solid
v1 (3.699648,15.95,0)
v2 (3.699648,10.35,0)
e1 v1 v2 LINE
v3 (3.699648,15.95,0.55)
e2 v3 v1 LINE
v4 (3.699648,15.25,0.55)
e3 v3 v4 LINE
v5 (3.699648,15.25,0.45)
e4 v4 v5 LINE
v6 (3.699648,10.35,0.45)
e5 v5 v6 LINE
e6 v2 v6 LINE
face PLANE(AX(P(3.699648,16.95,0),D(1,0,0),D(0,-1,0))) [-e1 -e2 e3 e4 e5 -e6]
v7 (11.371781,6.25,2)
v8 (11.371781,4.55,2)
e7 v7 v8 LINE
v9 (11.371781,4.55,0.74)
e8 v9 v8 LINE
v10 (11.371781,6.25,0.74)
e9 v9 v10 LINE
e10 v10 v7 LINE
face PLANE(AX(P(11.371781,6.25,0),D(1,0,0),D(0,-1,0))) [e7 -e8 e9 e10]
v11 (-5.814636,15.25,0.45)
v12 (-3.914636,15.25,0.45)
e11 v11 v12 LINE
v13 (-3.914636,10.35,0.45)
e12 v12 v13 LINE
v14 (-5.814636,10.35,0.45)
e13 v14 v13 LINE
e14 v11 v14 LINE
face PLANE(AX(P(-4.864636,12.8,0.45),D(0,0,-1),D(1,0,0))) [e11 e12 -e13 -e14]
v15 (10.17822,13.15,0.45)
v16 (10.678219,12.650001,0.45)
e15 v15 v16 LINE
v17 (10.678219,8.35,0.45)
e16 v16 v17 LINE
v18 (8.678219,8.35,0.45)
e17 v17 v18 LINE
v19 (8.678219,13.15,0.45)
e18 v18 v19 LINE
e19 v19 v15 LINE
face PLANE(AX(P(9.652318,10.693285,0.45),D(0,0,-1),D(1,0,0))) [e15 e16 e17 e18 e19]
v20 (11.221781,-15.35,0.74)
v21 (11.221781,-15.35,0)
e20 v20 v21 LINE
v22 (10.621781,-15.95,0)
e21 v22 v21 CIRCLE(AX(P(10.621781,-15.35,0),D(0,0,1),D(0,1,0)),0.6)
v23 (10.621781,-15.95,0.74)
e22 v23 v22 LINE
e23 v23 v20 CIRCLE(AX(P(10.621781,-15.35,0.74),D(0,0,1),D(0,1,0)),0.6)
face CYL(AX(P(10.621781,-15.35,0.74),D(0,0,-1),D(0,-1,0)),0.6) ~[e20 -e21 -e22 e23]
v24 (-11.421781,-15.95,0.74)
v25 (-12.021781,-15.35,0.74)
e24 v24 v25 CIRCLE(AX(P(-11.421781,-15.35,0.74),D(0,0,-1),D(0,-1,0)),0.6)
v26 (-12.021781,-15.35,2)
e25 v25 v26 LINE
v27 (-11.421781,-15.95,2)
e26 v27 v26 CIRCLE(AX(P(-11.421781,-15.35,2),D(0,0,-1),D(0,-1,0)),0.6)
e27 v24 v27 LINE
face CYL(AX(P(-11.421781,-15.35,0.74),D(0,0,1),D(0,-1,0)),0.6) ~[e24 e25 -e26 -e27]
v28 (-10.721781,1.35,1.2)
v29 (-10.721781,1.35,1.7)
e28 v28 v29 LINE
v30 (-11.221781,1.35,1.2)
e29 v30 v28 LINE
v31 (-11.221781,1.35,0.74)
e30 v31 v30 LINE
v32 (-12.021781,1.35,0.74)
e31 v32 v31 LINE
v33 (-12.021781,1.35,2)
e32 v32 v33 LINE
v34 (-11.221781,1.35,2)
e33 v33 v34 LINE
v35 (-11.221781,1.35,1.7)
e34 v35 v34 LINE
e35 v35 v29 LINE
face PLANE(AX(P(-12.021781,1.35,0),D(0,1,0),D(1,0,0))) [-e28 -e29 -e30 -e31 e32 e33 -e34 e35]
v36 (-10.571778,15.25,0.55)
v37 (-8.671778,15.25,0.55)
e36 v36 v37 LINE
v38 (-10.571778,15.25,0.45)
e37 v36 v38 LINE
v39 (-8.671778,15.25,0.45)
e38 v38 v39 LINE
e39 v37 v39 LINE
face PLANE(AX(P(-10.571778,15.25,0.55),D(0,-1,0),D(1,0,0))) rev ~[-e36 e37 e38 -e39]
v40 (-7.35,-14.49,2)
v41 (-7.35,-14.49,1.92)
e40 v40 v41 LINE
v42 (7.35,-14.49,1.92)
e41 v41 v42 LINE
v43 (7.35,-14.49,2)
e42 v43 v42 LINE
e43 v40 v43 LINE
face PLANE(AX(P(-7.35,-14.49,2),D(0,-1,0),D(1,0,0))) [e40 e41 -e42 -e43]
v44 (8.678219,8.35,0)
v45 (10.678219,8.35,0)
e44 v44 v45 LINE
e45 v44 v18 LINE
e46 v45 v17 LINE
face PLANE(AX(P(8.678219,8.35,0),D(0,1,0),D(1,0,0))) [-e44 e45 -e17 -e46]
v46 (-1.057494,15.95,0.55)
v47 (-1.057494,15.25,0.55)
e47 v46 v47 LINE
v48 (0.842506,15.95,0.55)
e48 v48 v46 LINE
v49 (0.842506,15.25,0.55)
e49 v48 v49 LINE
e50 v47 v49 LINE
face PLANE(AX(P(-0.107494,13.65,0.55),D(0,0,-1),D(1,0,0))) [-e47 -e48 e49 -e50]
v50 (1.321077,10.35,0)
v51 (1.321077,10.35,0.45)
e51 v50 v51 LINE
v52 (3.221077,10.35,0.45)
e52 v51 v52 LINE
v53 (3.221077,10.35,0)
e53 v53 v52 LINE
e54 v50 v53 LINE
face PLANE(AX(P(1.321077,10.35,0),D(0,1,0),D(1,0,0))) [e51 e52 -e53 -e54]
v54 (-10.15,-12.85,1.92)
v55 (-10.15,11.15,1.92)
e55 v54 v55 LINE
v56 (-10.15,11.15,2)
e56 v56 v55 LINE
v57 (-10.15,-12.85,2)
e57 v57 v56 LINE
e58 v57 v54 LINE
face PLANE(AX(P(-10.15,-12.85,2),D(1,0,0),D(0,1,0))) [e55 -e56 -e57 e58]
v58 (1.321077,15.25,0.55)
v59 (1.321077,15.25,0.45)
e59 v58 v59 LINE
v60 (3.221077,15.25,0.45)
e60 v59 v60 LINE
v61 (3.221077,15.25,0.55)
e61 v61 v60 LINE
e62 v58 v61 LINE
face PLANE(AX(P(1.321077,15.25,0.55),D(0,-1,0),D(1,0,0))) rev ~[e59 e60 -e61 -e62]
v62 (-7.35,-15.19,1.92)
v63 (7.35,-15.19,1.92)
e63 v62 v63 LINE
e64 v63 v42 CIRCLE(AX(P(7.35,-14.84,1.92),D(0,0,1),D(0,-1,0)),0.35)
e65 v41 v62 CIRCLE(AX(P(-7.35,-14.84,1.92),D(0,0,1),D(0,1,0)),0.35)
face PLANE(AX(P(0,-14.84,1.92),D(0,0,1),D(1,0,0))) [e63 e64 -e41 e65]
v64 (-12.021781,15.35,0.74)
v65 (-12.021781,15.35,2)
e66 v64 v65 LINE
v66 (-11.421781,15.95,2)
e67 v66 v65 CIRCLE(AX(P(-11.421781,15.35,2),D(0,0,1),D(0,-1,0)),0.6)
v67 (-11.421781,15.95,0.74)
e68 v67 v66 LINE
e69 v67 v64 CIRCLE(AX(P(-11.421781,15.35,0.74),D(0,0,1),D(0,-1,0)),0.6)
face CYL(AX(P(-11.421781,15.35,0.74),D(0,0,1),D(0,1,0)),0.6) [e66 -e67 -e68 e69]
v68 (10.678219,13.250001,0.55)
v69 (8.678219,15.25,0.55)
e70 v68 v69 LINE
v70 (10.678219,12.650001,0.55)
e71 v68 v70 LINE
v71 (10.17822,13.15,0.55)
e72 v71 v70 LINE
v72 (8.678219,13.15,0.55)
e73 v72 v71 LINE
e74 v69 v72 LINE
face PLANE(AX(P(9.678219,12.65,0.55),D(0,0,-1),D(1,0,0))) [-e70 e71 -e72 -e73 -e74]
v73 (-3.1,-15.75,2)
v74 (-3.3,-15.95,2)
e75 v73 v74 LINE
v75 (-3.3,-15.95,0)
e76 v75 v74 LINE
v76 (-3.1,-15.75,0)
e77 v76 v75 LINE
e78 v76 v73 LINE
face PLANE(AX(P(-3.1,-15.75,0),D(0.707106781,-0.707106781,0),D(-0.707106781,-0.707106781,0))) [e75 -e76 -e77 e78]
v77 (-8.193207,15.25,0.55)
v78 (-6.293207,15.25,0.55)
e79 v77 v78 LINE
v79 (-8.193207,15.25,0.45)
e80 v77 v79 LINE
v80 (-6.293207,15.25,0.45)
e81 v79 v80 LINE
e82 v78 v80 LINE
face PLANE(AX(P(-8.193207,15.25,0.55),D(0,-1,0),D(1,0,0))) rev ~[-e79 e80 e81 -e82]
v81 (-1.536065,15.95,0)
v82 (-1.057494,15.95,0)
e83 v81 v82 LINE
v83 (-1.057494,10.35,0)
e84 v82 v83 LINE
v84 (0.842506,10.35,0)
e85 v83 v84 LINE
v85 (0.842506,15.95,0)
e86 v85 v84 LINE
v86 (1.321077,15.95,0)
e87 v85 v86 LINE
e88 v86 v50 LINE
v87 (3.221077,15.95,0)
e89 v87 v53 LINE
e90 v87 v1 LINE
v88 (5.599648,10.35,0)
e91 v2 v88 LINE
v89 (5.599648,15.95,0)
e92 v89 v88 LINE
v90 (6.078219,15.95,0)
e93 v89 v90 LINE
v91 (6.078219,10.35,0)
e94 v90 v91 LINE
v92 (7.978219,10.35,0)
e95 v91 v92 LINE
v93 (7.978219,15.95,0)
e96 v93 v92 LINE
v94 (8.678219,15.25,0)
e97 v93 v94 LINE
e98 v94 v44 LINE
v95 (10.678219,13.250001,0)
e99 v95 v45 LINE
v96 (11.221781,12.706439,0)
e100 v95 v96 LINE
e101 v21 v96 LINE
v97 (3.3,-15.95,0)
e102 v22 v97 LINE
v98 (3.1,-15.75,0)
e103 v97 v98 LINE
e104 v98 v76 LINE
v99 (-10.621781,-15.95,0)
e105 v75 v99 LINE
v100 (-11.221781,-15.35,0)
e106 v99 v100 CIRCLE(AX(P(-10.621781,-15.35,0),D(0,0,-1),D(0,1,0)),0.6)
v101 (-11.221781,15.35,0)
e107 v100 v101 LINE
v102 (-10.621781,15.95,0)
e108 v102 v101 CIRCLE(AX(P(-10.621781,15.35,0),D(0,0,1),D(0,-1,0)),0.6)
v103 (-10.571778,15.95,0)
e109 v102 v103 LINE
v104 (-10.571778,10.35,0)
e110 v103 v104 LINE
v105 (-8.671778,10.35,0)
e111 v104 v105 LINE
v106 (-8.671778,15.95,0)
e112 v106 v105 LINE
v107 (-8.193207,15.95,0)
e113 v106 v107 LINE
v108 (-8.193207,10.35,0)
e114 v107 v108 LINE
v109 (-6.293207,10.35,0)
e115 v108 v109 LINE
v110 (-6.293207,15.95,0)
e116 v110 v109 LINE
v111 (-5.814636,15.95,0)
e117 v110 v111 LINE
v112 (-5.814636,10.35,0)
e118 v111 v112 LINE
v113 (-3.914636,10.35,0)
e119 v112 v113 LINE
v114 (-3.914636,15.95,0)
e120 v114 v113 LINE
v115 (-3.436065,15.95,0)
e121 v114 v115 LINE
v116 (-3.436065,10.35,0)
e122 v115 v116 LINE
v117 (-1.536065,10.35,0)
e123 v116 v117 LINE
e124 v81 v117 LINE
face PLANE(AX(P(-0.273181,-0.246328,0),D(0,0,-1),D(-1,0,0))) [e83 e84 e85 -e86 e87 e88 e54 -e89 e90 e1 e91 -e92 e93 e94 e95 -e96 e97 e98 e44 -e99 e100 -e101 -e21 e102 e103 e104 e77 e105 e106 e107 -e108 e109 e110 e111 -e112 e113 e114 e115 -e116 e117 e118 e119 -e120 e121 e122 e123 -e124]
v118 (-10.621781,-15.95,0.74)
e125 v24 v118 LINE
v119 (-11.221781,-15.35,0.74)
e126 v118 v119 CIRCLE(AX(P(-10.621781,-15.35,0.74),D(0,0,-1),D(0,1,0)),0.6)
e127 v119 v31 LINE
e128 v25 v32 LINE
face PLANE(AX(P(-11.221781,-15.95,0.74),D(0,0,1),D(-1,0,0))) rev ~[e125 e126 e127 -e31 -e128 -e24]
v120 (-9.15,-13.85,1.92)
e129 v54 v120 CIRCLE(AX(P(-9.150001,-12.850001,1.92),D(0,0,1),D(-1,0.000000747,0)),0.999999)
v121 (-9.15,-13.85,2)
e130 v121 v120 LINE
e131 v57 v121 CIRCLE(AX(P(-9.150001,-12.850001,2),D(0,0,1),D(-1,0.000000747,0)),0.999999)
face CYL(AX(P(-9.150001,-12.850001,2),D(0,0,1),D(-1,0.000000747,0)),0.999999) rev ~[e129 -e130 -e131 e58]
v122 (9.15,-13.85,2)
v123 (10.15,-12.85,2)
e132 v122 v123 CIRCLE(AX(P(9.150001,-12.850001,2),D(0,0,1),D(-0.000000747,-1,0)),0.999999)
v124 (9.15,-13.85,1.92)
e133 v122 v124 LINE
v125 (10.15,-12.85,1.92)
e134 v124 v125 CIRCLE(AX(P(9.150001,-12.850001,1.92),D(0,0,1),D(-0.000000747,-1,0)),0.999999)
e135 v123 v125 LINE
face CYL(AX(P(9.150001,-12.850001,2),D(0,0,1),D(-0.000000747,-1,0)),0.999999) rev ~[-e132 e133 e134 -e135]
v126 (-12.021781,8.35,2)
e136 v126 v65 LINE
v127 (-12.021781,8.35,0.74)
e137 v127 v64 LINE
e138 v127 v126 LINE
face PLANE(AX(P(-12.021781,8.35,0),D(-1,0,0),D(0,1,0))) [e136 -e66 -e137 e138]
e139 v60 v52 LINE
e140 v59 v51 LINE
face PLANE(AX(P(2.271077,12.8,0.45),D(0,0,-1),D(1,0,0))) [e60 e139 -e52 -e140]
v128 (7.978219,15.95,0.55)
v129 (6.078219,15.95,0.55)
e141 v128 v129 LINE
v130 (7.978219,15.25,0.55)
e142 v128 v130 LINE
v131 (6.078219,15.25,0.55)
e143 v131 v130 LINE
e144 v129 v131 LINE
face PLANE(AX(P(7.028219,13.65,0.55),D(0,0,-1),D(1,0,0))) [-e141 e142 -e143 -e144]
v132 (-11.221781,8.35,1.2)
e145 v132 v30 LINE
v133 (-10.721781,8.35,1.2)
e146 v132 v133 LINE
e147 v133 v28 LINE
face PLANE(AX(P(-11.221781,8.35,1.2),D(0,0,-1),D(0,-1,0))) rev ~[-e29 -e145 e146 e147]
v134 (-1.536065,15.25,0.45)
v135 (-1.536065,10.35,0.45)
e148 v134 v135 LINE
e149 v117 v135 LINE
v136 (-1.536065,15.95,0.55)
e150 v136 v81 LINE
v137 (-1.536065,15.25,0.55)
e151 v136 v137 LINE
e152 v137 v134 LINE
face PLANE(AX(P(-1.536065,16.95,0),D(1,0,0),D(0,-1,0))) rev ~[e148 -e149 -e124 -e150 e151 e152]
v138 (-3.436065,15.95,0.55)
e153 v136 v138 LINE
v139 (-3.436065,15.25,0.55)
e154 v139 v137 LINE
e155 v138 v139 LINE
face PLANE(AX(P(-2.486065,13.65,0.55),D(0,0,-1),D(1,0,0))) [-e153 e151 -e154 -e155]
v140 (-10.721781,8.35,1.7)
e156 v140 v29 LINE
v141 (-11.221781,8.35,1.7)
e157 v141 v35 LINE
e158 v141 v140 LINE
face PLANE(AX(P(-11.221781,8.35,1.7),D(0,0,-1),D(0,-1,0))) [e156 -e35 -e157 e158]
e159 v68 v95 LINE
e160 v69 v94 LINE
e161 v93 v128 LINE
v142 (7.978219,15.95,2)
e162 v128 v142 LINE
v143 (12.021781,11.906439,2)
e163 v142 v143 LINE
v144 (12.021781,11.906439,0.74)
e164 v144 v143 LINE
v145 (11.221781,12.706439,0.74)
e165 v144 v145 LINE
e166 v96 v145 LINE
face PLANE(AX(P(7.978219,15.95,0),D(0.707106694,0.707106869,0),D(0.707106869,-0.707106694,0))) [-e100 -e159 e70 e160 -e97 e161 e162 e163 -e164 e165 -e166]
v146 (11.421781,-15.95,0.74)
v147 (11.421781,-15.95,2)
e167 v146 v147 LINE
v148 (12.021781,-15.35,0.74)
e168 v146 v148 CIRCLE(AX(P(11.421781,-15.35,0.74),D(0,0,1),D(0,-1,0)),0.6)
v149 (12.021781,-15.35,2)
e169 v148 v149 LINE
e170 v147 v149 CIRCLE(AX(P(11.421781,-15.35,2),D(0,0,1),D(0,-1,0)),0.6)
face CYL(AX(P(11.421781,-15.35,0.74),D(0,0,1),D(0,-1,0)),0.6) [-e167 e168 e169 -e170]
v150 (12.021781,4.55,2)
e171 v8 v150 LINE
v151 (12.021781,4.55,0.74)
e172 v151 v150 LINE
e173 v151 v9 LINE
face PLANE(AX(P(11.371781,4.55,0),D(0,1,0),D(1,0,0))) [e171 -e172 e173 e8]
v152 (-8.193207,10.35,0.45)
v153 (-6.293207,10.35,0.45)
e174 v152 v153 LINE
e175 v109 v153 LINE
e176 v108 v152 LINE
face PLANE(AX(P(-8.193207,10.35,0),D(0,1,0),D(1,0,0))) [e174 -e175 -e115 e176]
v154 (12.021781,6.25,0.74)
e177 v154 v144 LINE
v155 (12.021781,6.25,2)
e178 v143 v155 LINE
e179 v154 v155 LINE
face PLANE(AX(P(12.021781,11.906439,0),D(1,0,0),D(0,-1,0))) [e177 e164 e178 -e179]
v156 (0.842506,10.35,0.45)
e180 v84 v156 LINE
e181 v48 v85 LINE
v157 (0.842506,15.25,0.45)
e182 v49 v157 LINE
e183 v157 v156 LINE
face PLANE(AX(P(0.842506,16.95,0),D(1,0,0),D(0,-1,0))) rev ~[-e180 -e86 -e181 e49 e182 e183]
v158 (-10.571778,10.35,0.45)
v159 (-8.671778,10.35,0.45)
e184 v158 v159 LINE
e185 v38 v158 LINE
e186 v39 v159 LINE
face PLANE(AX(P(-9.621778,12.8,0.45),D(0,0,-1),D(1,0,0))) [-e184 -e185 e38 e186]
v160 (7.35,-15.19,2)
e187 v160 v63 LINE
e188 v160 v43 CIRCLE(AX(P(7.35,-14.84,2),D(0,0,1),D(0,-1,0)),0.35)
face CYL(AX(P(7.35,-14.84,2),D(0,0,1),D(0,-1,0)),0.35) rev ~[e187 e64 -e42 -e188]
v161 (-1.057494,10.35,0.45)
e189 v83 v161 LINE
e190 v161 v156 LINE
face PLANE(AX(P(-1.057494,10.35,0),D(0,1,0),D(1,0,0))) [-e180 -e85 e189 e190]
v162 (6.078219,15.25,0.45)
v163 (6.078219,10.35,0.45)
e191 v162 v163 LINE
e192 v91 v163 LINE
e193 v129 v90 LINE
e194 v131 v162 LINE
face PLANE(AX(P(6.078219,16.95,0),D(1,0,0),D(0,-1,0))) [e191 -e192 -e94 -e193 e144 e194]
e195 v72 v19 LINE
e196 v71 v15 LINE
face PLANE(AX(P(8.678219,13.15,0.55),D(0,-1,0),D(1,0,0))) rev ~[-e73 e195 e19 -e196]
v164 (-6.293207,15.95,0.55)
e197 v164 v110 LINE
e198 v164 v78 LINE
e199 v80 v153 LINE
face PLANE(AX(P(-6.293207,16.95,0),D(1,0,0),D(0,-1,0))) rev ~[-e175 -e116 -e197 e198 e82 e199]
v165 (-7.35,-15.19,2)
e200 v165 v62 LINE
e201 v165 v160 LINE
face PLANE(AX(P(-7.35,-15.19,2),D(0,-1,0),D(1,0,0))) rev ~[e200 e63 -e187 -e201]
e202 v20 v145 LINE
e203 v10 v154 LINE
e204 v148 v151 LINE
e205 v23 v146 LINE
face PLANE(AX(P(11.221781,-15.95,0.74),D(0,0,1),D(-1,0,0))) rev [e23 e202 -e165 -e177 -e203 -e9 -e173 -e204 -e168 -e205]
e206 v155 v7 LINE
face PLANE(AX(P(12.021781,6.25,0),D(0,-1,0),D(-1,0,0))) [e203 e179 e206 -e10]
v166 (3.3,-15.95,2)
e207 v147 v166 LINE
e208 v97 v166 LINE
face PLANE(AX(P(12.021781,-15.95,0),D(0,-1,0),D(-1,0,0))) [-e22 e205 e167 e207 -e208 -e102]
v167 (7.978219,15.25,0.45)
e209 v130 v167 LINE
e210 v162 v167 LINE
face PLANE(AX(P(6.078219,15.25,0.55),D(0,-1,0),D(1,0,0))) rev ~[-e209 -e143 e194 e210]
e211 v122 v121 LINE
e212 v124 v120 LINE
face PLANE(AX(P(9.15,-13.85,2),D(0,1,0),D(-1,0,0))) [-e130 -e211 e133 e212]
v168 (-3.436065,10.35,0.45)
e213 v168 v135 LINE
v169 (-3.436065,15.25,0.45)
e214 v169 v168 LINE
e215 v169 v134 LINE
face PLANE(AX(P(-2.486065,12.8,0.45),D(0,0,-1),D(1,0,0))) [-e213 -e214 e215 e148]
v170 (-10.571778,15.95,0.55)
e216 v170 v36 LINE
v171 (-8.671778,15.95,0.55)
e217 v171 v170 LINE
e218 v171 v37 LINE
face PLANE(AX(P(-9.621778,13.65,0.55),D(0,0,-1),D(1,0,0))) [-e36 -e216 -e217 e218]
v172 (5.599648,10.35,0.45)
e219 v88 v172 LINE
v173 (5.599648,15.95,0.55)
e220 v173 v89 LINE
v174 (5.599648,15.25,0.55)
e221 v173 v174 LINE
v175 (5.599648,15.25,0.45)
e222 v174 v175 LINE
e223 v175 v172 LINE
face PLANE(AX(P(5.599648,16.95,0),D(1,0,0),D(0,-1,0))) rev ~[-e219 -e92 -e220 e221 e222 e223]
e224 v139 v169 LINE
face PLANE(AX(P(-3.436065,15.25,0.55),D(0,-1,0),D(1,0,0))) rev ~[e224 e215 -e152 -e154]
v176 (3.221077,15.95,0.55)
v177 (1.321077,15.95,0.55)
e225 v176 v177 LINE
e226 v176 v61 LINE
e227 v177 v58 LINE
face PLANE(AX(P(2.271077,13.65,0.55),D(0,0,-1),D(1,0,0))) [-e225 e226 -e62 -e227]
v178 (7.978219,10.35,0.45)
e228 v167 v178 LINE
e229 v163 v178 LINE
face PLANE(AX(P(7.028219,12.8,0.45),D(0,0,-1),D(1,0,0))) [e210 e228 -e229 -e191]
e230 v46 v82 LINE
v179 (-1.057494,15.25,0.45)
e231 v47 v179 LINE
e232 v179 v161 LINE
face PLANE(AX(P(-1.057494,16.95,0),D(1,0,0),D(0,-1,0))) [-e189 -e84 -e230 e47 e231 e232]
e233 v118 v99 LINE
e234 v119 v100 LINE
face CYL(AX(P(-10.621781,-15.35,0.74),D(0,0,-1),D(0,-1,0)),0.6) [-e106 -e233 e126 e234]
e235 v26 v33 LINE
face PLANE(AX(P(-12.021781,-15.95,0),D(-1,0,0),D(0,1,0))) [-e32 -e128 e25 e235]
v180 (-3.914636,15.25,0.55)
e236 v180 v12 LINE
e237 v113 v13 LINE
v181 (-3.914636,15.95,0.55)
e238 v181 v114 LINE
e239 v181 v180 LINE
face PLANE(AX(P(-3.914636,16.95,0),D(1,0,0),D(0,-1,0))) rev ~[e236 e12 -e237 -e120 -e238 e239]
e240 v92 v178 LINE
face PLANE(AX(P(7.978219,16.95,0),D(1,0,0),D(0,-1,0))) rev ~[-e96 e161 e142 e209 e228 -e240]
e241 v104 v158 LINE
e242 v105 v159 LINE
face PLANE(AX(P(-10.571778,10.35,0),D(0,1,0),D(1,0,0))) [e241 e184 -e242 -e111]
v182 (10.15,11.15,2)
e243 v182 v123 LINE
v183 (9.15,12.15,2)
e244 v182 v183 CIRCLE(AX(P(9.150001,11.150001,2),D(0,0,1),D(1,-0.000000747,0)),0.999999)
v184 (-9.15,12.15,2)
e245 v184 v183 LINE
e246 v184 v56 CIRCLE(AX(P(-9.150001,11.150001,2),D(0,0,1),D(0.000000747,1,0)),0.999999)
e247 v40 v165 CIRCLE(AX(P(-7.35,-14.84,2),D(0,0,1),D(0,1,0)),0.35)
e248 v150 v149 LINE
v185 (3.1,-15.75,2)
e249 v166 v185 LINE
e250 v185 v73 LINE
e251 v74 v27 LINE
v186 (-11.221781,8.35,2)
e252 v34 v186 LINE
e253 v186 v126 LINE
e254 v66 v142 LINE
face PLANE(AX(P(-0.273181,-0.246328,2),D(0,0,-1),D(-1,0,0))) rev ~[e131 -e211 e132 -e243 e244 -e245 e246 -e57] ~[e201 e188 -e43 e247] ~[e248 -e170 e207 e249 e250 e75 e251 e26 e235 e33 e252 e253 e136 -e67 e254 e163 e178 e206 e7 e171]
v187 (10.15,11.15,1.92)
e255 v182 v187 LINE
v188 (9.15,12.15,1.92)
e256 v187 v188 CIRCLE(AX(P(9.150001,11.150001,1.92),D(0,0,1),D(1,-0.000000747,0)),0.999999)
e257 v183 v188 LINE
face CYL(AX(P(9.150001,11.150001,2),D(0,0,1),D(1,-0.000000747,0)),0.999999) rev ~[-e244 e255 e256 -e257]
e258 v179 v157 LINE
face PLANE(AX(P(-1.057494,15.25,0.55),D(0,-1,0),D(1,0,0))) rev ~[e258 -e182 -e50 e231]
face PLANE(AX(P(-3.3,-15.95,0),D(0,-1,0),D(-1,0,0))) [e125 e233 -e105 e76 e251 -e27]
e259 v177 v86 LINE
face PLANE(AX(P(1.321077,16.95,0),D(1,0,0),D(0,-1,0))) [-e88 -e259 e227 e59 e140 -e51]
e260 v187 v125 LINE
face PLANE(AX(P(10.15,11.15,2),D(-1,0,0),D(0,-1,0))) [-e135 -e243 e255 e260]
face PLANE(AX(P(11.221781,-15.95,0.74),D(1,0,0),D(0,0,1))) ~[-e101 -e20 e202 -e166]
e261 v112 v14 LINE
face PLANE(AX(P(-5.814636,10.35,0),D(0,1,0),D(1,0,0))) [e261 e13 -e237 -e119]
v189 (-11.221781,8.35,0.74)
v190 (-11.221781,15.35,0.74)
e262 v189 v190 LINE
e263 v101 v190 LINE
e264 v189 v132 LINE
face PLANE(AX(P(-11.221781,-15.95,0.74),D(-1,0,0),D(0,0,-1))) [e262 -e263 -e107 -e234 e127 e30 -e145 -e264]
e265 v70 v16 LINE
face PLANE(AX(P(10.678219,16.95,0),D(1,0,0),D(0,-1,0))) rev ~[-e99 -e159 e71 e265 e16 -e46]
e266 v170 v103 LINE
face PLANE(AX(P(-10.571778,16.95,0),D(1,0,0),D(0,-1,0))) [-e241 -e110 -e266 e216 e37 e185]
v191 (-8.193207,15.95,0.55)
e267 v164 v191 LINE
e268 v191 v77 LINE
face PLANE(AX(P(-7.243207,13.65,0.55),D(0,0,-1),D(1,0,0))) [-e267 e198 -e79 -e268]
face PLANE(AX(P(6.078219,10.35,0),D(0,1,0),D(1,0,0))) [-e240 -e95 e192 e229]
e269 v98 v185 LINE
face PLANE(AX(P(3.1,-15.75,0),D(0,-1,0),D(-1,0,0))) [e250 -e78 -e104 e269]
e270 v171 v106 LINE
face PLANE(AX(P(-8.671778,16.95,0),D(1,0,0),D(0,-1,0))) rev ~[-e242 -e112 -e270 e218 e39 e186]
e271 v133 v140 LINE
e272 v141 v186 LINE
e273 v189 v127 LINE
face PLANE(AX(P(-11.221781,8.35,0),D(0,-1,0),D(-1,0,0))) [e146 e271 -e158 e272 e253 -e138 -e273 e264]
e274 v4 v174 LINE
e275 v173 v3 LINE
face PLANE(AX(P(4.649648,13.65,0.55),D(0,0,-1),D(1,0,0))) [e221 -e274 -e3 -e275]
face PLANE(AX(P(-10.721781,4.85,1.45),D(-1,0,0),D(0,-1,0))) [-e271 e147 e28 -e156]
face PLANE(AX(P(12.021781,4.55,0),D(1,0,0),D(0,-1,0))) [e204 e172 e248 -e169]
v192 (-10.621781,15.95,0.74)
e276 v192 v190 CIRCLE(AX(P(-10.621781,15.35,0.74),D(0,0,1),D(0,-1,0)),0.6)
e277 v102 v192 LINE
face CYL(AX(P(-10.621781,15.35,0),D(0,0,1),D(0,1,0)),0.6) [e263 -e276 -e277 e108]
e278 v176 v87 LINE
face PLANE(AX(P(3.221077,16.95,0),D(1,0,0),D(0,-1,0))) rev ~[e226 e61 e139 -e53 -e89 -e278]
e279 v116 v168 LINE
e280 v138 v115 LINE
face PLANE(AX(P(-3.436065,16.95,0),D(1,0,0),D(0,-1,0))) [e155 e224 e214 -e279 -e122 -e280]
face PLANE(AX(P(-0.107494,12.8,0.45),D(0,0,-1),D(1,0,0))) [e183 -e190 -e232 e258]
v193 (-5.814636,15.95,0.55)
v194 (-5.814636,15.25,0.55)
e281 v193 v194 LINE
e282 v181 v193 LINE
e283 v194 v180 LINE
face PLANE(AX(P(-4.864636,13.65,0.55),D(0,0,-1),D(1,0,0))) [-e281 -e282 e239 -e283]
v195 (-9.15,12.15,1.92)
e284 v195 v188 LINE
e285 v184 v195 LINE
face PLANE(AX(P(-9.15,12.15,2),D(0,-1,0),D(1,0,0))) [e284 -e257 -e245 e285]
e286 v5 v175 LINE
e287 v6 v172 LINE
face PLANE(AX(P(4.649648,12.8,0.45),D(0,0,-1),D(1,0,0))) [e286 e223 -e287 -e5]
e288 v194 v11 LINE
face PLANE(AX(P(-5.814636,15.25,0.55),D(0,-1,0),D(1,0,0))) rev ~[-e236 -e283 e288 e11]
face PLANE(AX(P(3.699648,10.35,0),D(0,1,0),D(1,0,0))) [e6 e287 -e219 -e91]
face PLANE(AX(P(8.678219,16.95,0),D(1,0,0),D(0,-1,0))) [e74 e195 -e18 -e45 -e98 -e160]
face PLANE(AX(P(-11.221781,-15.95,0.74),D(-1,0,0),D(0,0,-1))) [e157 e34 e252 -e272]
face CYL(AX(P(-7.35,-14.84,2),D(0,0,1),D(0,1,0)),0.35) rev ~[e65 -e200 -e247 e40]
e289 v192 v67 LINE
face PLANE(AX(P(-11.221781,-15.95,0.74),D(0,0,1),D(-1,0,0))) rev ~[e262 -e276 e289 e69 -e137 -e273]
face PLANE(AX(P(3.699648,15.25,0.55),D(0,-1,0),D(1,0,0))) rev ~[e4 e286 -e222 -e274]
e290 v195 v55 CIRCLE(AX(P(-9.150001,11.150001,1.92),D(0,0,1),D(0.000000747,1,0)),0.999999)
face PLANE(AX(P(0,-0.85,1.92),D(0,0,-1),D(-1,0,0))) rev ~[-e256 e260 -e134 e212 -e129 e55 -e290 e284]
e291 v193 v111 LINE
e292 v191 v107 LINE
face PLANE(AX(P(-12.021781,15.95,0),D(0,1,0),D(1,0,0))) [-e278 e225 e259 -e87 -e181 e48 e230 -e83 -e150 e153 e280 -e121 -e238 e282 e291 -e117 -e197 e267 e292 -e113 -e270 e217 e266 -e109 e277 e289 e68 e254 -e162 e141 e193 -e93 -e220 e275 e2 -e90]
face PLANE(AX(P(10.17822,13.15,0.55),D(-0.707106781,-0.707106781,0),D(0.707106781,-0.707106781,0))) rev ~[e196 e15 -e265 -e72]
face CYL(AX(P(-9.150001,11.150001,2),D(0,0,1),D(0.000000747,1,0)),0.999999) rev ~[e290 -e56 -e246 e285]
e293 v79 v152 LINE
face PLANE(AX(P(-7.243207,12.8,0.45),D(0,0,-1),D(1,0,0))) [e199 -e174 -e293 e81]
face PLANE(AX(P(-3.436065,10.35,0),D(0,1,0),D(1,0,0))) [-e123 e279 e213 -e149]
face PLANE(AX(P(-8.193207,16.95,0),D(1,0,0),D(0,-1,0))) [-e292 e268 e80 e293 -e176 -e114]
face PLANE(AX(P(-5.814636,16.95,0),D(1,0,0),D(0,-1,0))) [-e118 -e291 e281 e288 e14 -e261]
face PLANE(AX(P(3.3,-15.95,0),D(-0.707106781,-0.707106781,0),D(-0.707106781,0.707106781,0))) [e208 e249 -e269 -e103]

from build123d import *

# Parameters (mm, degrees)
PAD_DEPTH              = 2
POCKET_DEPTH           = 0.08
POCKET001_DEPTH        = 0.08
SKETCH003_W            = 1.9
SKETCH003_H            = 6.6
POCKET002_DEPTH        = 0.55
LINEARPATTERN_COUNT    = 8
LINEARPATTERN_PITCH    = 2.378571
SKETCH004_W            = 2
SKETCH004_H            = 8.6
POCKET003_DEPTH        = 0.55
SKETCH005_W            = 1.9
SKETCH005_H            = 4.9
PAD001_DEPTH           = 0.1
LINEARPATTERN001_COUNT = 8
LINEARPATTERN001_PITCH = 2.378571
PAD002_DEPTH           = 0.1
POCKET004_DEPTH        = 111.893571
SKETCH008_W            = 7
SKETCH008_H            = 0.5
POCKET007_DEPTH        = 0.5
FILLET_R               = 0.6


with BuildPart() as part:
    # Sketch → Pad (new body)
    with BuildSketch(Plane.XY):
        Polygon((-12.021781, 15.95), (7.978219, 15.95), (12.021781, 11.906439), (12.021781, 6.25), (11.371781, 6.25), (11.371781, 4.55), (12.021781, 4.55), (12.021781, -15.95), (3.3, -15.95), (3.1, -15.75), (-3.1, -15.75), (-3.3, -15.95), (-12.021781, -15.95), (-12.021781, 1.35), (-11.221781, 1.35), (-11.221781, 8.35), (-12.021781, 8.35), align=None)
    extrude(amount=PAD_DEPTH)

    # Sketch001 → Pocket (cut)
    with BuildSketch(Plane.XY.offset(2)):
        with BuildLine():
            Line((-9.15, 12.15), (9.15, 12.15))
            ThreePointArc((10.15, 11.15), (9.857107, 11.857107), (9.15, 12.15))
            Line((10.15, 11.15), (10.15, -12.85))
            ThreePointArc((9.15, -13.85), (9.857107, -13.557107), (10.15, -12.85))
            Line((9.15, -13.85), (-9.15, -13.85))
            ThreePointArc((-10.15, -12.85), (-9.857107, -13.557107), (-9.15, -13.85))
            Line((-10.15, -12.85), (-10.15, 11.15))
            ThreePointArc((-9.15, 12.15), (-9.857107, 11.857107), (-10.15, 11.15))
        make_face()
    extrude(amount=-POCKET_DEPTH, mode=Mode.SUBTRACT)

    # Sketch002 → Pocket001 (cut)
    with BuildSketch(Plane.XY.offset(2)):
        with BuildLine():
            ThreePointArc((-7.35, -14.49), (-7.7, -14.84), (-7.35, -15.19))
            Line((-7.35, -15.19), (7.35, -15.19))
            ThreePointArc((7.35, -15.19), (7.7, -14.84), (7.35, -14.49))
            Line((-7.35, -14.49), (7.35, -14.49))
        make_face()
    extrude(amount=-POCKET001_DEPTH, mode=Mode.SUBTRACT)

    # Sketch003 → Pocket002 (cut)
    with BuildSketch(Plane(origin=(0, 0, 0), x_dir=(1, 0, 0), z_dir=(0, 0, -1))):
        with Locations((7.028219, -13.65)):
            Rectangle(SKETCH003_W, SKETCH003_H)
    pocket002 = extrude(amount=-POCKET002_DEPTH, mode=Mode.SUBTRACT)

    # LinearPattern: Pocket002 ×8
    with Locations(*[(-i * LINEARPATTERN_PITCH, 0, 0) for i in range(1, LINEARPATTERN_COUNT)]):
        add(pocket002, mode=Mode.SUBTRACT)

    # Sketch004 → Pocket003 (cut)
    with BuildSketch(Plane(origin=(0, 0, 0), x_dir=(1, 0, 0), z_dir=(0, 0, -1))):
        with Locations((9.678219, -12.65)):
            Rectangle(SKETCH004_W, SKETCH004_H)
    extrude(amount=-POCKET003_DEPTH, mode=Mode.SUBTRACT)

    # Sketch005 → Pad001 (new body)
    with BuildSketch(Plane(origin=(0, 0, 0.55), x_dir=(1, 0, 0), z_dir=(0, 0, -1))):
        with Locations((7.028219, -12.8)):
            Rectangle(SKETCH005_W, SKETCH005_H)
    pad001 = extrude(amount=PAD001_DEPTH)

    # LinearPattern001: Pad001 ×8
    with Locations(*[(-i * LINEARPATTERN001_PITCH, 0, 0) for i in range(1, LINEARPATTERN001_COUNT)]):
        add(pad001)

    # Sketch006 → Pad002 (new body)
    with BuildSketch(Plane(origin=(0, 0, 0.55), x_dir=(1, 0, 0), z_dir=(0, 0, -1))):
        Polygon((8.678219, -8.35), (8.678219, -13.15), (10.17822, -13.15), (10.678219, -12.650001), (10.678219, -8.35), align=None)
    extrude(amount=PAD002_DEPTH)

    # Sketch007 → Pocket004 (cut, through all)
    with BuildSketch(Plane.XZ.offset(15.95)):
        Polygon((-11.221781, 0.74), (-11.221781, -0.191555), (-12.614112, -0.191555), (-12.614112, 0), (-12.614112, 0.74), (-12.021781, 0.74), align=None)
    pocket004 = extrude(amount=-POCKET004_DEPTH, mode=Mode.SUBTRACT)

    # Mirrored: Pocket004 across Sketch007 V_Axis
    add(pocket004.mirror(Plane(origin=(0, -15.95, 0), x_dir=(0, -1, 0), z_dir=(1, 0, 0))), mode=Mode.SUBTRACT)

    # Sketch008 → Pocket007 (cut)
    with BuildSketch(Plane(origin=(-11.221781, 0, 0), x_dir=(0, -1, 0), z_dir=(-1, 0, 0))):
        with Locations((-4.85, 1.45)):
            Rectangle(SKETCH008_W, SKETCH008_H)
    extrude(amount=-POCKET007_DEPTH, mode=Mode.SUBTRACT)

    # Fillet
    fillet_edges = [part.edges().sort_by_distance(p)[0] for p in [
        (-12.021781, -15.95, 1.37),
        (-11.221781, -15.95, 0.37),
        (-12.021781, 15.95, 1.37),
        (11.221781, -15.95, 0.37),
        (12.021781, -15.95, 1.37),
        (-11.221781, 15.95, 0.37),
    ]]
    fillet(fillet_edges, radius=FILLET_R)


solid = part.part
